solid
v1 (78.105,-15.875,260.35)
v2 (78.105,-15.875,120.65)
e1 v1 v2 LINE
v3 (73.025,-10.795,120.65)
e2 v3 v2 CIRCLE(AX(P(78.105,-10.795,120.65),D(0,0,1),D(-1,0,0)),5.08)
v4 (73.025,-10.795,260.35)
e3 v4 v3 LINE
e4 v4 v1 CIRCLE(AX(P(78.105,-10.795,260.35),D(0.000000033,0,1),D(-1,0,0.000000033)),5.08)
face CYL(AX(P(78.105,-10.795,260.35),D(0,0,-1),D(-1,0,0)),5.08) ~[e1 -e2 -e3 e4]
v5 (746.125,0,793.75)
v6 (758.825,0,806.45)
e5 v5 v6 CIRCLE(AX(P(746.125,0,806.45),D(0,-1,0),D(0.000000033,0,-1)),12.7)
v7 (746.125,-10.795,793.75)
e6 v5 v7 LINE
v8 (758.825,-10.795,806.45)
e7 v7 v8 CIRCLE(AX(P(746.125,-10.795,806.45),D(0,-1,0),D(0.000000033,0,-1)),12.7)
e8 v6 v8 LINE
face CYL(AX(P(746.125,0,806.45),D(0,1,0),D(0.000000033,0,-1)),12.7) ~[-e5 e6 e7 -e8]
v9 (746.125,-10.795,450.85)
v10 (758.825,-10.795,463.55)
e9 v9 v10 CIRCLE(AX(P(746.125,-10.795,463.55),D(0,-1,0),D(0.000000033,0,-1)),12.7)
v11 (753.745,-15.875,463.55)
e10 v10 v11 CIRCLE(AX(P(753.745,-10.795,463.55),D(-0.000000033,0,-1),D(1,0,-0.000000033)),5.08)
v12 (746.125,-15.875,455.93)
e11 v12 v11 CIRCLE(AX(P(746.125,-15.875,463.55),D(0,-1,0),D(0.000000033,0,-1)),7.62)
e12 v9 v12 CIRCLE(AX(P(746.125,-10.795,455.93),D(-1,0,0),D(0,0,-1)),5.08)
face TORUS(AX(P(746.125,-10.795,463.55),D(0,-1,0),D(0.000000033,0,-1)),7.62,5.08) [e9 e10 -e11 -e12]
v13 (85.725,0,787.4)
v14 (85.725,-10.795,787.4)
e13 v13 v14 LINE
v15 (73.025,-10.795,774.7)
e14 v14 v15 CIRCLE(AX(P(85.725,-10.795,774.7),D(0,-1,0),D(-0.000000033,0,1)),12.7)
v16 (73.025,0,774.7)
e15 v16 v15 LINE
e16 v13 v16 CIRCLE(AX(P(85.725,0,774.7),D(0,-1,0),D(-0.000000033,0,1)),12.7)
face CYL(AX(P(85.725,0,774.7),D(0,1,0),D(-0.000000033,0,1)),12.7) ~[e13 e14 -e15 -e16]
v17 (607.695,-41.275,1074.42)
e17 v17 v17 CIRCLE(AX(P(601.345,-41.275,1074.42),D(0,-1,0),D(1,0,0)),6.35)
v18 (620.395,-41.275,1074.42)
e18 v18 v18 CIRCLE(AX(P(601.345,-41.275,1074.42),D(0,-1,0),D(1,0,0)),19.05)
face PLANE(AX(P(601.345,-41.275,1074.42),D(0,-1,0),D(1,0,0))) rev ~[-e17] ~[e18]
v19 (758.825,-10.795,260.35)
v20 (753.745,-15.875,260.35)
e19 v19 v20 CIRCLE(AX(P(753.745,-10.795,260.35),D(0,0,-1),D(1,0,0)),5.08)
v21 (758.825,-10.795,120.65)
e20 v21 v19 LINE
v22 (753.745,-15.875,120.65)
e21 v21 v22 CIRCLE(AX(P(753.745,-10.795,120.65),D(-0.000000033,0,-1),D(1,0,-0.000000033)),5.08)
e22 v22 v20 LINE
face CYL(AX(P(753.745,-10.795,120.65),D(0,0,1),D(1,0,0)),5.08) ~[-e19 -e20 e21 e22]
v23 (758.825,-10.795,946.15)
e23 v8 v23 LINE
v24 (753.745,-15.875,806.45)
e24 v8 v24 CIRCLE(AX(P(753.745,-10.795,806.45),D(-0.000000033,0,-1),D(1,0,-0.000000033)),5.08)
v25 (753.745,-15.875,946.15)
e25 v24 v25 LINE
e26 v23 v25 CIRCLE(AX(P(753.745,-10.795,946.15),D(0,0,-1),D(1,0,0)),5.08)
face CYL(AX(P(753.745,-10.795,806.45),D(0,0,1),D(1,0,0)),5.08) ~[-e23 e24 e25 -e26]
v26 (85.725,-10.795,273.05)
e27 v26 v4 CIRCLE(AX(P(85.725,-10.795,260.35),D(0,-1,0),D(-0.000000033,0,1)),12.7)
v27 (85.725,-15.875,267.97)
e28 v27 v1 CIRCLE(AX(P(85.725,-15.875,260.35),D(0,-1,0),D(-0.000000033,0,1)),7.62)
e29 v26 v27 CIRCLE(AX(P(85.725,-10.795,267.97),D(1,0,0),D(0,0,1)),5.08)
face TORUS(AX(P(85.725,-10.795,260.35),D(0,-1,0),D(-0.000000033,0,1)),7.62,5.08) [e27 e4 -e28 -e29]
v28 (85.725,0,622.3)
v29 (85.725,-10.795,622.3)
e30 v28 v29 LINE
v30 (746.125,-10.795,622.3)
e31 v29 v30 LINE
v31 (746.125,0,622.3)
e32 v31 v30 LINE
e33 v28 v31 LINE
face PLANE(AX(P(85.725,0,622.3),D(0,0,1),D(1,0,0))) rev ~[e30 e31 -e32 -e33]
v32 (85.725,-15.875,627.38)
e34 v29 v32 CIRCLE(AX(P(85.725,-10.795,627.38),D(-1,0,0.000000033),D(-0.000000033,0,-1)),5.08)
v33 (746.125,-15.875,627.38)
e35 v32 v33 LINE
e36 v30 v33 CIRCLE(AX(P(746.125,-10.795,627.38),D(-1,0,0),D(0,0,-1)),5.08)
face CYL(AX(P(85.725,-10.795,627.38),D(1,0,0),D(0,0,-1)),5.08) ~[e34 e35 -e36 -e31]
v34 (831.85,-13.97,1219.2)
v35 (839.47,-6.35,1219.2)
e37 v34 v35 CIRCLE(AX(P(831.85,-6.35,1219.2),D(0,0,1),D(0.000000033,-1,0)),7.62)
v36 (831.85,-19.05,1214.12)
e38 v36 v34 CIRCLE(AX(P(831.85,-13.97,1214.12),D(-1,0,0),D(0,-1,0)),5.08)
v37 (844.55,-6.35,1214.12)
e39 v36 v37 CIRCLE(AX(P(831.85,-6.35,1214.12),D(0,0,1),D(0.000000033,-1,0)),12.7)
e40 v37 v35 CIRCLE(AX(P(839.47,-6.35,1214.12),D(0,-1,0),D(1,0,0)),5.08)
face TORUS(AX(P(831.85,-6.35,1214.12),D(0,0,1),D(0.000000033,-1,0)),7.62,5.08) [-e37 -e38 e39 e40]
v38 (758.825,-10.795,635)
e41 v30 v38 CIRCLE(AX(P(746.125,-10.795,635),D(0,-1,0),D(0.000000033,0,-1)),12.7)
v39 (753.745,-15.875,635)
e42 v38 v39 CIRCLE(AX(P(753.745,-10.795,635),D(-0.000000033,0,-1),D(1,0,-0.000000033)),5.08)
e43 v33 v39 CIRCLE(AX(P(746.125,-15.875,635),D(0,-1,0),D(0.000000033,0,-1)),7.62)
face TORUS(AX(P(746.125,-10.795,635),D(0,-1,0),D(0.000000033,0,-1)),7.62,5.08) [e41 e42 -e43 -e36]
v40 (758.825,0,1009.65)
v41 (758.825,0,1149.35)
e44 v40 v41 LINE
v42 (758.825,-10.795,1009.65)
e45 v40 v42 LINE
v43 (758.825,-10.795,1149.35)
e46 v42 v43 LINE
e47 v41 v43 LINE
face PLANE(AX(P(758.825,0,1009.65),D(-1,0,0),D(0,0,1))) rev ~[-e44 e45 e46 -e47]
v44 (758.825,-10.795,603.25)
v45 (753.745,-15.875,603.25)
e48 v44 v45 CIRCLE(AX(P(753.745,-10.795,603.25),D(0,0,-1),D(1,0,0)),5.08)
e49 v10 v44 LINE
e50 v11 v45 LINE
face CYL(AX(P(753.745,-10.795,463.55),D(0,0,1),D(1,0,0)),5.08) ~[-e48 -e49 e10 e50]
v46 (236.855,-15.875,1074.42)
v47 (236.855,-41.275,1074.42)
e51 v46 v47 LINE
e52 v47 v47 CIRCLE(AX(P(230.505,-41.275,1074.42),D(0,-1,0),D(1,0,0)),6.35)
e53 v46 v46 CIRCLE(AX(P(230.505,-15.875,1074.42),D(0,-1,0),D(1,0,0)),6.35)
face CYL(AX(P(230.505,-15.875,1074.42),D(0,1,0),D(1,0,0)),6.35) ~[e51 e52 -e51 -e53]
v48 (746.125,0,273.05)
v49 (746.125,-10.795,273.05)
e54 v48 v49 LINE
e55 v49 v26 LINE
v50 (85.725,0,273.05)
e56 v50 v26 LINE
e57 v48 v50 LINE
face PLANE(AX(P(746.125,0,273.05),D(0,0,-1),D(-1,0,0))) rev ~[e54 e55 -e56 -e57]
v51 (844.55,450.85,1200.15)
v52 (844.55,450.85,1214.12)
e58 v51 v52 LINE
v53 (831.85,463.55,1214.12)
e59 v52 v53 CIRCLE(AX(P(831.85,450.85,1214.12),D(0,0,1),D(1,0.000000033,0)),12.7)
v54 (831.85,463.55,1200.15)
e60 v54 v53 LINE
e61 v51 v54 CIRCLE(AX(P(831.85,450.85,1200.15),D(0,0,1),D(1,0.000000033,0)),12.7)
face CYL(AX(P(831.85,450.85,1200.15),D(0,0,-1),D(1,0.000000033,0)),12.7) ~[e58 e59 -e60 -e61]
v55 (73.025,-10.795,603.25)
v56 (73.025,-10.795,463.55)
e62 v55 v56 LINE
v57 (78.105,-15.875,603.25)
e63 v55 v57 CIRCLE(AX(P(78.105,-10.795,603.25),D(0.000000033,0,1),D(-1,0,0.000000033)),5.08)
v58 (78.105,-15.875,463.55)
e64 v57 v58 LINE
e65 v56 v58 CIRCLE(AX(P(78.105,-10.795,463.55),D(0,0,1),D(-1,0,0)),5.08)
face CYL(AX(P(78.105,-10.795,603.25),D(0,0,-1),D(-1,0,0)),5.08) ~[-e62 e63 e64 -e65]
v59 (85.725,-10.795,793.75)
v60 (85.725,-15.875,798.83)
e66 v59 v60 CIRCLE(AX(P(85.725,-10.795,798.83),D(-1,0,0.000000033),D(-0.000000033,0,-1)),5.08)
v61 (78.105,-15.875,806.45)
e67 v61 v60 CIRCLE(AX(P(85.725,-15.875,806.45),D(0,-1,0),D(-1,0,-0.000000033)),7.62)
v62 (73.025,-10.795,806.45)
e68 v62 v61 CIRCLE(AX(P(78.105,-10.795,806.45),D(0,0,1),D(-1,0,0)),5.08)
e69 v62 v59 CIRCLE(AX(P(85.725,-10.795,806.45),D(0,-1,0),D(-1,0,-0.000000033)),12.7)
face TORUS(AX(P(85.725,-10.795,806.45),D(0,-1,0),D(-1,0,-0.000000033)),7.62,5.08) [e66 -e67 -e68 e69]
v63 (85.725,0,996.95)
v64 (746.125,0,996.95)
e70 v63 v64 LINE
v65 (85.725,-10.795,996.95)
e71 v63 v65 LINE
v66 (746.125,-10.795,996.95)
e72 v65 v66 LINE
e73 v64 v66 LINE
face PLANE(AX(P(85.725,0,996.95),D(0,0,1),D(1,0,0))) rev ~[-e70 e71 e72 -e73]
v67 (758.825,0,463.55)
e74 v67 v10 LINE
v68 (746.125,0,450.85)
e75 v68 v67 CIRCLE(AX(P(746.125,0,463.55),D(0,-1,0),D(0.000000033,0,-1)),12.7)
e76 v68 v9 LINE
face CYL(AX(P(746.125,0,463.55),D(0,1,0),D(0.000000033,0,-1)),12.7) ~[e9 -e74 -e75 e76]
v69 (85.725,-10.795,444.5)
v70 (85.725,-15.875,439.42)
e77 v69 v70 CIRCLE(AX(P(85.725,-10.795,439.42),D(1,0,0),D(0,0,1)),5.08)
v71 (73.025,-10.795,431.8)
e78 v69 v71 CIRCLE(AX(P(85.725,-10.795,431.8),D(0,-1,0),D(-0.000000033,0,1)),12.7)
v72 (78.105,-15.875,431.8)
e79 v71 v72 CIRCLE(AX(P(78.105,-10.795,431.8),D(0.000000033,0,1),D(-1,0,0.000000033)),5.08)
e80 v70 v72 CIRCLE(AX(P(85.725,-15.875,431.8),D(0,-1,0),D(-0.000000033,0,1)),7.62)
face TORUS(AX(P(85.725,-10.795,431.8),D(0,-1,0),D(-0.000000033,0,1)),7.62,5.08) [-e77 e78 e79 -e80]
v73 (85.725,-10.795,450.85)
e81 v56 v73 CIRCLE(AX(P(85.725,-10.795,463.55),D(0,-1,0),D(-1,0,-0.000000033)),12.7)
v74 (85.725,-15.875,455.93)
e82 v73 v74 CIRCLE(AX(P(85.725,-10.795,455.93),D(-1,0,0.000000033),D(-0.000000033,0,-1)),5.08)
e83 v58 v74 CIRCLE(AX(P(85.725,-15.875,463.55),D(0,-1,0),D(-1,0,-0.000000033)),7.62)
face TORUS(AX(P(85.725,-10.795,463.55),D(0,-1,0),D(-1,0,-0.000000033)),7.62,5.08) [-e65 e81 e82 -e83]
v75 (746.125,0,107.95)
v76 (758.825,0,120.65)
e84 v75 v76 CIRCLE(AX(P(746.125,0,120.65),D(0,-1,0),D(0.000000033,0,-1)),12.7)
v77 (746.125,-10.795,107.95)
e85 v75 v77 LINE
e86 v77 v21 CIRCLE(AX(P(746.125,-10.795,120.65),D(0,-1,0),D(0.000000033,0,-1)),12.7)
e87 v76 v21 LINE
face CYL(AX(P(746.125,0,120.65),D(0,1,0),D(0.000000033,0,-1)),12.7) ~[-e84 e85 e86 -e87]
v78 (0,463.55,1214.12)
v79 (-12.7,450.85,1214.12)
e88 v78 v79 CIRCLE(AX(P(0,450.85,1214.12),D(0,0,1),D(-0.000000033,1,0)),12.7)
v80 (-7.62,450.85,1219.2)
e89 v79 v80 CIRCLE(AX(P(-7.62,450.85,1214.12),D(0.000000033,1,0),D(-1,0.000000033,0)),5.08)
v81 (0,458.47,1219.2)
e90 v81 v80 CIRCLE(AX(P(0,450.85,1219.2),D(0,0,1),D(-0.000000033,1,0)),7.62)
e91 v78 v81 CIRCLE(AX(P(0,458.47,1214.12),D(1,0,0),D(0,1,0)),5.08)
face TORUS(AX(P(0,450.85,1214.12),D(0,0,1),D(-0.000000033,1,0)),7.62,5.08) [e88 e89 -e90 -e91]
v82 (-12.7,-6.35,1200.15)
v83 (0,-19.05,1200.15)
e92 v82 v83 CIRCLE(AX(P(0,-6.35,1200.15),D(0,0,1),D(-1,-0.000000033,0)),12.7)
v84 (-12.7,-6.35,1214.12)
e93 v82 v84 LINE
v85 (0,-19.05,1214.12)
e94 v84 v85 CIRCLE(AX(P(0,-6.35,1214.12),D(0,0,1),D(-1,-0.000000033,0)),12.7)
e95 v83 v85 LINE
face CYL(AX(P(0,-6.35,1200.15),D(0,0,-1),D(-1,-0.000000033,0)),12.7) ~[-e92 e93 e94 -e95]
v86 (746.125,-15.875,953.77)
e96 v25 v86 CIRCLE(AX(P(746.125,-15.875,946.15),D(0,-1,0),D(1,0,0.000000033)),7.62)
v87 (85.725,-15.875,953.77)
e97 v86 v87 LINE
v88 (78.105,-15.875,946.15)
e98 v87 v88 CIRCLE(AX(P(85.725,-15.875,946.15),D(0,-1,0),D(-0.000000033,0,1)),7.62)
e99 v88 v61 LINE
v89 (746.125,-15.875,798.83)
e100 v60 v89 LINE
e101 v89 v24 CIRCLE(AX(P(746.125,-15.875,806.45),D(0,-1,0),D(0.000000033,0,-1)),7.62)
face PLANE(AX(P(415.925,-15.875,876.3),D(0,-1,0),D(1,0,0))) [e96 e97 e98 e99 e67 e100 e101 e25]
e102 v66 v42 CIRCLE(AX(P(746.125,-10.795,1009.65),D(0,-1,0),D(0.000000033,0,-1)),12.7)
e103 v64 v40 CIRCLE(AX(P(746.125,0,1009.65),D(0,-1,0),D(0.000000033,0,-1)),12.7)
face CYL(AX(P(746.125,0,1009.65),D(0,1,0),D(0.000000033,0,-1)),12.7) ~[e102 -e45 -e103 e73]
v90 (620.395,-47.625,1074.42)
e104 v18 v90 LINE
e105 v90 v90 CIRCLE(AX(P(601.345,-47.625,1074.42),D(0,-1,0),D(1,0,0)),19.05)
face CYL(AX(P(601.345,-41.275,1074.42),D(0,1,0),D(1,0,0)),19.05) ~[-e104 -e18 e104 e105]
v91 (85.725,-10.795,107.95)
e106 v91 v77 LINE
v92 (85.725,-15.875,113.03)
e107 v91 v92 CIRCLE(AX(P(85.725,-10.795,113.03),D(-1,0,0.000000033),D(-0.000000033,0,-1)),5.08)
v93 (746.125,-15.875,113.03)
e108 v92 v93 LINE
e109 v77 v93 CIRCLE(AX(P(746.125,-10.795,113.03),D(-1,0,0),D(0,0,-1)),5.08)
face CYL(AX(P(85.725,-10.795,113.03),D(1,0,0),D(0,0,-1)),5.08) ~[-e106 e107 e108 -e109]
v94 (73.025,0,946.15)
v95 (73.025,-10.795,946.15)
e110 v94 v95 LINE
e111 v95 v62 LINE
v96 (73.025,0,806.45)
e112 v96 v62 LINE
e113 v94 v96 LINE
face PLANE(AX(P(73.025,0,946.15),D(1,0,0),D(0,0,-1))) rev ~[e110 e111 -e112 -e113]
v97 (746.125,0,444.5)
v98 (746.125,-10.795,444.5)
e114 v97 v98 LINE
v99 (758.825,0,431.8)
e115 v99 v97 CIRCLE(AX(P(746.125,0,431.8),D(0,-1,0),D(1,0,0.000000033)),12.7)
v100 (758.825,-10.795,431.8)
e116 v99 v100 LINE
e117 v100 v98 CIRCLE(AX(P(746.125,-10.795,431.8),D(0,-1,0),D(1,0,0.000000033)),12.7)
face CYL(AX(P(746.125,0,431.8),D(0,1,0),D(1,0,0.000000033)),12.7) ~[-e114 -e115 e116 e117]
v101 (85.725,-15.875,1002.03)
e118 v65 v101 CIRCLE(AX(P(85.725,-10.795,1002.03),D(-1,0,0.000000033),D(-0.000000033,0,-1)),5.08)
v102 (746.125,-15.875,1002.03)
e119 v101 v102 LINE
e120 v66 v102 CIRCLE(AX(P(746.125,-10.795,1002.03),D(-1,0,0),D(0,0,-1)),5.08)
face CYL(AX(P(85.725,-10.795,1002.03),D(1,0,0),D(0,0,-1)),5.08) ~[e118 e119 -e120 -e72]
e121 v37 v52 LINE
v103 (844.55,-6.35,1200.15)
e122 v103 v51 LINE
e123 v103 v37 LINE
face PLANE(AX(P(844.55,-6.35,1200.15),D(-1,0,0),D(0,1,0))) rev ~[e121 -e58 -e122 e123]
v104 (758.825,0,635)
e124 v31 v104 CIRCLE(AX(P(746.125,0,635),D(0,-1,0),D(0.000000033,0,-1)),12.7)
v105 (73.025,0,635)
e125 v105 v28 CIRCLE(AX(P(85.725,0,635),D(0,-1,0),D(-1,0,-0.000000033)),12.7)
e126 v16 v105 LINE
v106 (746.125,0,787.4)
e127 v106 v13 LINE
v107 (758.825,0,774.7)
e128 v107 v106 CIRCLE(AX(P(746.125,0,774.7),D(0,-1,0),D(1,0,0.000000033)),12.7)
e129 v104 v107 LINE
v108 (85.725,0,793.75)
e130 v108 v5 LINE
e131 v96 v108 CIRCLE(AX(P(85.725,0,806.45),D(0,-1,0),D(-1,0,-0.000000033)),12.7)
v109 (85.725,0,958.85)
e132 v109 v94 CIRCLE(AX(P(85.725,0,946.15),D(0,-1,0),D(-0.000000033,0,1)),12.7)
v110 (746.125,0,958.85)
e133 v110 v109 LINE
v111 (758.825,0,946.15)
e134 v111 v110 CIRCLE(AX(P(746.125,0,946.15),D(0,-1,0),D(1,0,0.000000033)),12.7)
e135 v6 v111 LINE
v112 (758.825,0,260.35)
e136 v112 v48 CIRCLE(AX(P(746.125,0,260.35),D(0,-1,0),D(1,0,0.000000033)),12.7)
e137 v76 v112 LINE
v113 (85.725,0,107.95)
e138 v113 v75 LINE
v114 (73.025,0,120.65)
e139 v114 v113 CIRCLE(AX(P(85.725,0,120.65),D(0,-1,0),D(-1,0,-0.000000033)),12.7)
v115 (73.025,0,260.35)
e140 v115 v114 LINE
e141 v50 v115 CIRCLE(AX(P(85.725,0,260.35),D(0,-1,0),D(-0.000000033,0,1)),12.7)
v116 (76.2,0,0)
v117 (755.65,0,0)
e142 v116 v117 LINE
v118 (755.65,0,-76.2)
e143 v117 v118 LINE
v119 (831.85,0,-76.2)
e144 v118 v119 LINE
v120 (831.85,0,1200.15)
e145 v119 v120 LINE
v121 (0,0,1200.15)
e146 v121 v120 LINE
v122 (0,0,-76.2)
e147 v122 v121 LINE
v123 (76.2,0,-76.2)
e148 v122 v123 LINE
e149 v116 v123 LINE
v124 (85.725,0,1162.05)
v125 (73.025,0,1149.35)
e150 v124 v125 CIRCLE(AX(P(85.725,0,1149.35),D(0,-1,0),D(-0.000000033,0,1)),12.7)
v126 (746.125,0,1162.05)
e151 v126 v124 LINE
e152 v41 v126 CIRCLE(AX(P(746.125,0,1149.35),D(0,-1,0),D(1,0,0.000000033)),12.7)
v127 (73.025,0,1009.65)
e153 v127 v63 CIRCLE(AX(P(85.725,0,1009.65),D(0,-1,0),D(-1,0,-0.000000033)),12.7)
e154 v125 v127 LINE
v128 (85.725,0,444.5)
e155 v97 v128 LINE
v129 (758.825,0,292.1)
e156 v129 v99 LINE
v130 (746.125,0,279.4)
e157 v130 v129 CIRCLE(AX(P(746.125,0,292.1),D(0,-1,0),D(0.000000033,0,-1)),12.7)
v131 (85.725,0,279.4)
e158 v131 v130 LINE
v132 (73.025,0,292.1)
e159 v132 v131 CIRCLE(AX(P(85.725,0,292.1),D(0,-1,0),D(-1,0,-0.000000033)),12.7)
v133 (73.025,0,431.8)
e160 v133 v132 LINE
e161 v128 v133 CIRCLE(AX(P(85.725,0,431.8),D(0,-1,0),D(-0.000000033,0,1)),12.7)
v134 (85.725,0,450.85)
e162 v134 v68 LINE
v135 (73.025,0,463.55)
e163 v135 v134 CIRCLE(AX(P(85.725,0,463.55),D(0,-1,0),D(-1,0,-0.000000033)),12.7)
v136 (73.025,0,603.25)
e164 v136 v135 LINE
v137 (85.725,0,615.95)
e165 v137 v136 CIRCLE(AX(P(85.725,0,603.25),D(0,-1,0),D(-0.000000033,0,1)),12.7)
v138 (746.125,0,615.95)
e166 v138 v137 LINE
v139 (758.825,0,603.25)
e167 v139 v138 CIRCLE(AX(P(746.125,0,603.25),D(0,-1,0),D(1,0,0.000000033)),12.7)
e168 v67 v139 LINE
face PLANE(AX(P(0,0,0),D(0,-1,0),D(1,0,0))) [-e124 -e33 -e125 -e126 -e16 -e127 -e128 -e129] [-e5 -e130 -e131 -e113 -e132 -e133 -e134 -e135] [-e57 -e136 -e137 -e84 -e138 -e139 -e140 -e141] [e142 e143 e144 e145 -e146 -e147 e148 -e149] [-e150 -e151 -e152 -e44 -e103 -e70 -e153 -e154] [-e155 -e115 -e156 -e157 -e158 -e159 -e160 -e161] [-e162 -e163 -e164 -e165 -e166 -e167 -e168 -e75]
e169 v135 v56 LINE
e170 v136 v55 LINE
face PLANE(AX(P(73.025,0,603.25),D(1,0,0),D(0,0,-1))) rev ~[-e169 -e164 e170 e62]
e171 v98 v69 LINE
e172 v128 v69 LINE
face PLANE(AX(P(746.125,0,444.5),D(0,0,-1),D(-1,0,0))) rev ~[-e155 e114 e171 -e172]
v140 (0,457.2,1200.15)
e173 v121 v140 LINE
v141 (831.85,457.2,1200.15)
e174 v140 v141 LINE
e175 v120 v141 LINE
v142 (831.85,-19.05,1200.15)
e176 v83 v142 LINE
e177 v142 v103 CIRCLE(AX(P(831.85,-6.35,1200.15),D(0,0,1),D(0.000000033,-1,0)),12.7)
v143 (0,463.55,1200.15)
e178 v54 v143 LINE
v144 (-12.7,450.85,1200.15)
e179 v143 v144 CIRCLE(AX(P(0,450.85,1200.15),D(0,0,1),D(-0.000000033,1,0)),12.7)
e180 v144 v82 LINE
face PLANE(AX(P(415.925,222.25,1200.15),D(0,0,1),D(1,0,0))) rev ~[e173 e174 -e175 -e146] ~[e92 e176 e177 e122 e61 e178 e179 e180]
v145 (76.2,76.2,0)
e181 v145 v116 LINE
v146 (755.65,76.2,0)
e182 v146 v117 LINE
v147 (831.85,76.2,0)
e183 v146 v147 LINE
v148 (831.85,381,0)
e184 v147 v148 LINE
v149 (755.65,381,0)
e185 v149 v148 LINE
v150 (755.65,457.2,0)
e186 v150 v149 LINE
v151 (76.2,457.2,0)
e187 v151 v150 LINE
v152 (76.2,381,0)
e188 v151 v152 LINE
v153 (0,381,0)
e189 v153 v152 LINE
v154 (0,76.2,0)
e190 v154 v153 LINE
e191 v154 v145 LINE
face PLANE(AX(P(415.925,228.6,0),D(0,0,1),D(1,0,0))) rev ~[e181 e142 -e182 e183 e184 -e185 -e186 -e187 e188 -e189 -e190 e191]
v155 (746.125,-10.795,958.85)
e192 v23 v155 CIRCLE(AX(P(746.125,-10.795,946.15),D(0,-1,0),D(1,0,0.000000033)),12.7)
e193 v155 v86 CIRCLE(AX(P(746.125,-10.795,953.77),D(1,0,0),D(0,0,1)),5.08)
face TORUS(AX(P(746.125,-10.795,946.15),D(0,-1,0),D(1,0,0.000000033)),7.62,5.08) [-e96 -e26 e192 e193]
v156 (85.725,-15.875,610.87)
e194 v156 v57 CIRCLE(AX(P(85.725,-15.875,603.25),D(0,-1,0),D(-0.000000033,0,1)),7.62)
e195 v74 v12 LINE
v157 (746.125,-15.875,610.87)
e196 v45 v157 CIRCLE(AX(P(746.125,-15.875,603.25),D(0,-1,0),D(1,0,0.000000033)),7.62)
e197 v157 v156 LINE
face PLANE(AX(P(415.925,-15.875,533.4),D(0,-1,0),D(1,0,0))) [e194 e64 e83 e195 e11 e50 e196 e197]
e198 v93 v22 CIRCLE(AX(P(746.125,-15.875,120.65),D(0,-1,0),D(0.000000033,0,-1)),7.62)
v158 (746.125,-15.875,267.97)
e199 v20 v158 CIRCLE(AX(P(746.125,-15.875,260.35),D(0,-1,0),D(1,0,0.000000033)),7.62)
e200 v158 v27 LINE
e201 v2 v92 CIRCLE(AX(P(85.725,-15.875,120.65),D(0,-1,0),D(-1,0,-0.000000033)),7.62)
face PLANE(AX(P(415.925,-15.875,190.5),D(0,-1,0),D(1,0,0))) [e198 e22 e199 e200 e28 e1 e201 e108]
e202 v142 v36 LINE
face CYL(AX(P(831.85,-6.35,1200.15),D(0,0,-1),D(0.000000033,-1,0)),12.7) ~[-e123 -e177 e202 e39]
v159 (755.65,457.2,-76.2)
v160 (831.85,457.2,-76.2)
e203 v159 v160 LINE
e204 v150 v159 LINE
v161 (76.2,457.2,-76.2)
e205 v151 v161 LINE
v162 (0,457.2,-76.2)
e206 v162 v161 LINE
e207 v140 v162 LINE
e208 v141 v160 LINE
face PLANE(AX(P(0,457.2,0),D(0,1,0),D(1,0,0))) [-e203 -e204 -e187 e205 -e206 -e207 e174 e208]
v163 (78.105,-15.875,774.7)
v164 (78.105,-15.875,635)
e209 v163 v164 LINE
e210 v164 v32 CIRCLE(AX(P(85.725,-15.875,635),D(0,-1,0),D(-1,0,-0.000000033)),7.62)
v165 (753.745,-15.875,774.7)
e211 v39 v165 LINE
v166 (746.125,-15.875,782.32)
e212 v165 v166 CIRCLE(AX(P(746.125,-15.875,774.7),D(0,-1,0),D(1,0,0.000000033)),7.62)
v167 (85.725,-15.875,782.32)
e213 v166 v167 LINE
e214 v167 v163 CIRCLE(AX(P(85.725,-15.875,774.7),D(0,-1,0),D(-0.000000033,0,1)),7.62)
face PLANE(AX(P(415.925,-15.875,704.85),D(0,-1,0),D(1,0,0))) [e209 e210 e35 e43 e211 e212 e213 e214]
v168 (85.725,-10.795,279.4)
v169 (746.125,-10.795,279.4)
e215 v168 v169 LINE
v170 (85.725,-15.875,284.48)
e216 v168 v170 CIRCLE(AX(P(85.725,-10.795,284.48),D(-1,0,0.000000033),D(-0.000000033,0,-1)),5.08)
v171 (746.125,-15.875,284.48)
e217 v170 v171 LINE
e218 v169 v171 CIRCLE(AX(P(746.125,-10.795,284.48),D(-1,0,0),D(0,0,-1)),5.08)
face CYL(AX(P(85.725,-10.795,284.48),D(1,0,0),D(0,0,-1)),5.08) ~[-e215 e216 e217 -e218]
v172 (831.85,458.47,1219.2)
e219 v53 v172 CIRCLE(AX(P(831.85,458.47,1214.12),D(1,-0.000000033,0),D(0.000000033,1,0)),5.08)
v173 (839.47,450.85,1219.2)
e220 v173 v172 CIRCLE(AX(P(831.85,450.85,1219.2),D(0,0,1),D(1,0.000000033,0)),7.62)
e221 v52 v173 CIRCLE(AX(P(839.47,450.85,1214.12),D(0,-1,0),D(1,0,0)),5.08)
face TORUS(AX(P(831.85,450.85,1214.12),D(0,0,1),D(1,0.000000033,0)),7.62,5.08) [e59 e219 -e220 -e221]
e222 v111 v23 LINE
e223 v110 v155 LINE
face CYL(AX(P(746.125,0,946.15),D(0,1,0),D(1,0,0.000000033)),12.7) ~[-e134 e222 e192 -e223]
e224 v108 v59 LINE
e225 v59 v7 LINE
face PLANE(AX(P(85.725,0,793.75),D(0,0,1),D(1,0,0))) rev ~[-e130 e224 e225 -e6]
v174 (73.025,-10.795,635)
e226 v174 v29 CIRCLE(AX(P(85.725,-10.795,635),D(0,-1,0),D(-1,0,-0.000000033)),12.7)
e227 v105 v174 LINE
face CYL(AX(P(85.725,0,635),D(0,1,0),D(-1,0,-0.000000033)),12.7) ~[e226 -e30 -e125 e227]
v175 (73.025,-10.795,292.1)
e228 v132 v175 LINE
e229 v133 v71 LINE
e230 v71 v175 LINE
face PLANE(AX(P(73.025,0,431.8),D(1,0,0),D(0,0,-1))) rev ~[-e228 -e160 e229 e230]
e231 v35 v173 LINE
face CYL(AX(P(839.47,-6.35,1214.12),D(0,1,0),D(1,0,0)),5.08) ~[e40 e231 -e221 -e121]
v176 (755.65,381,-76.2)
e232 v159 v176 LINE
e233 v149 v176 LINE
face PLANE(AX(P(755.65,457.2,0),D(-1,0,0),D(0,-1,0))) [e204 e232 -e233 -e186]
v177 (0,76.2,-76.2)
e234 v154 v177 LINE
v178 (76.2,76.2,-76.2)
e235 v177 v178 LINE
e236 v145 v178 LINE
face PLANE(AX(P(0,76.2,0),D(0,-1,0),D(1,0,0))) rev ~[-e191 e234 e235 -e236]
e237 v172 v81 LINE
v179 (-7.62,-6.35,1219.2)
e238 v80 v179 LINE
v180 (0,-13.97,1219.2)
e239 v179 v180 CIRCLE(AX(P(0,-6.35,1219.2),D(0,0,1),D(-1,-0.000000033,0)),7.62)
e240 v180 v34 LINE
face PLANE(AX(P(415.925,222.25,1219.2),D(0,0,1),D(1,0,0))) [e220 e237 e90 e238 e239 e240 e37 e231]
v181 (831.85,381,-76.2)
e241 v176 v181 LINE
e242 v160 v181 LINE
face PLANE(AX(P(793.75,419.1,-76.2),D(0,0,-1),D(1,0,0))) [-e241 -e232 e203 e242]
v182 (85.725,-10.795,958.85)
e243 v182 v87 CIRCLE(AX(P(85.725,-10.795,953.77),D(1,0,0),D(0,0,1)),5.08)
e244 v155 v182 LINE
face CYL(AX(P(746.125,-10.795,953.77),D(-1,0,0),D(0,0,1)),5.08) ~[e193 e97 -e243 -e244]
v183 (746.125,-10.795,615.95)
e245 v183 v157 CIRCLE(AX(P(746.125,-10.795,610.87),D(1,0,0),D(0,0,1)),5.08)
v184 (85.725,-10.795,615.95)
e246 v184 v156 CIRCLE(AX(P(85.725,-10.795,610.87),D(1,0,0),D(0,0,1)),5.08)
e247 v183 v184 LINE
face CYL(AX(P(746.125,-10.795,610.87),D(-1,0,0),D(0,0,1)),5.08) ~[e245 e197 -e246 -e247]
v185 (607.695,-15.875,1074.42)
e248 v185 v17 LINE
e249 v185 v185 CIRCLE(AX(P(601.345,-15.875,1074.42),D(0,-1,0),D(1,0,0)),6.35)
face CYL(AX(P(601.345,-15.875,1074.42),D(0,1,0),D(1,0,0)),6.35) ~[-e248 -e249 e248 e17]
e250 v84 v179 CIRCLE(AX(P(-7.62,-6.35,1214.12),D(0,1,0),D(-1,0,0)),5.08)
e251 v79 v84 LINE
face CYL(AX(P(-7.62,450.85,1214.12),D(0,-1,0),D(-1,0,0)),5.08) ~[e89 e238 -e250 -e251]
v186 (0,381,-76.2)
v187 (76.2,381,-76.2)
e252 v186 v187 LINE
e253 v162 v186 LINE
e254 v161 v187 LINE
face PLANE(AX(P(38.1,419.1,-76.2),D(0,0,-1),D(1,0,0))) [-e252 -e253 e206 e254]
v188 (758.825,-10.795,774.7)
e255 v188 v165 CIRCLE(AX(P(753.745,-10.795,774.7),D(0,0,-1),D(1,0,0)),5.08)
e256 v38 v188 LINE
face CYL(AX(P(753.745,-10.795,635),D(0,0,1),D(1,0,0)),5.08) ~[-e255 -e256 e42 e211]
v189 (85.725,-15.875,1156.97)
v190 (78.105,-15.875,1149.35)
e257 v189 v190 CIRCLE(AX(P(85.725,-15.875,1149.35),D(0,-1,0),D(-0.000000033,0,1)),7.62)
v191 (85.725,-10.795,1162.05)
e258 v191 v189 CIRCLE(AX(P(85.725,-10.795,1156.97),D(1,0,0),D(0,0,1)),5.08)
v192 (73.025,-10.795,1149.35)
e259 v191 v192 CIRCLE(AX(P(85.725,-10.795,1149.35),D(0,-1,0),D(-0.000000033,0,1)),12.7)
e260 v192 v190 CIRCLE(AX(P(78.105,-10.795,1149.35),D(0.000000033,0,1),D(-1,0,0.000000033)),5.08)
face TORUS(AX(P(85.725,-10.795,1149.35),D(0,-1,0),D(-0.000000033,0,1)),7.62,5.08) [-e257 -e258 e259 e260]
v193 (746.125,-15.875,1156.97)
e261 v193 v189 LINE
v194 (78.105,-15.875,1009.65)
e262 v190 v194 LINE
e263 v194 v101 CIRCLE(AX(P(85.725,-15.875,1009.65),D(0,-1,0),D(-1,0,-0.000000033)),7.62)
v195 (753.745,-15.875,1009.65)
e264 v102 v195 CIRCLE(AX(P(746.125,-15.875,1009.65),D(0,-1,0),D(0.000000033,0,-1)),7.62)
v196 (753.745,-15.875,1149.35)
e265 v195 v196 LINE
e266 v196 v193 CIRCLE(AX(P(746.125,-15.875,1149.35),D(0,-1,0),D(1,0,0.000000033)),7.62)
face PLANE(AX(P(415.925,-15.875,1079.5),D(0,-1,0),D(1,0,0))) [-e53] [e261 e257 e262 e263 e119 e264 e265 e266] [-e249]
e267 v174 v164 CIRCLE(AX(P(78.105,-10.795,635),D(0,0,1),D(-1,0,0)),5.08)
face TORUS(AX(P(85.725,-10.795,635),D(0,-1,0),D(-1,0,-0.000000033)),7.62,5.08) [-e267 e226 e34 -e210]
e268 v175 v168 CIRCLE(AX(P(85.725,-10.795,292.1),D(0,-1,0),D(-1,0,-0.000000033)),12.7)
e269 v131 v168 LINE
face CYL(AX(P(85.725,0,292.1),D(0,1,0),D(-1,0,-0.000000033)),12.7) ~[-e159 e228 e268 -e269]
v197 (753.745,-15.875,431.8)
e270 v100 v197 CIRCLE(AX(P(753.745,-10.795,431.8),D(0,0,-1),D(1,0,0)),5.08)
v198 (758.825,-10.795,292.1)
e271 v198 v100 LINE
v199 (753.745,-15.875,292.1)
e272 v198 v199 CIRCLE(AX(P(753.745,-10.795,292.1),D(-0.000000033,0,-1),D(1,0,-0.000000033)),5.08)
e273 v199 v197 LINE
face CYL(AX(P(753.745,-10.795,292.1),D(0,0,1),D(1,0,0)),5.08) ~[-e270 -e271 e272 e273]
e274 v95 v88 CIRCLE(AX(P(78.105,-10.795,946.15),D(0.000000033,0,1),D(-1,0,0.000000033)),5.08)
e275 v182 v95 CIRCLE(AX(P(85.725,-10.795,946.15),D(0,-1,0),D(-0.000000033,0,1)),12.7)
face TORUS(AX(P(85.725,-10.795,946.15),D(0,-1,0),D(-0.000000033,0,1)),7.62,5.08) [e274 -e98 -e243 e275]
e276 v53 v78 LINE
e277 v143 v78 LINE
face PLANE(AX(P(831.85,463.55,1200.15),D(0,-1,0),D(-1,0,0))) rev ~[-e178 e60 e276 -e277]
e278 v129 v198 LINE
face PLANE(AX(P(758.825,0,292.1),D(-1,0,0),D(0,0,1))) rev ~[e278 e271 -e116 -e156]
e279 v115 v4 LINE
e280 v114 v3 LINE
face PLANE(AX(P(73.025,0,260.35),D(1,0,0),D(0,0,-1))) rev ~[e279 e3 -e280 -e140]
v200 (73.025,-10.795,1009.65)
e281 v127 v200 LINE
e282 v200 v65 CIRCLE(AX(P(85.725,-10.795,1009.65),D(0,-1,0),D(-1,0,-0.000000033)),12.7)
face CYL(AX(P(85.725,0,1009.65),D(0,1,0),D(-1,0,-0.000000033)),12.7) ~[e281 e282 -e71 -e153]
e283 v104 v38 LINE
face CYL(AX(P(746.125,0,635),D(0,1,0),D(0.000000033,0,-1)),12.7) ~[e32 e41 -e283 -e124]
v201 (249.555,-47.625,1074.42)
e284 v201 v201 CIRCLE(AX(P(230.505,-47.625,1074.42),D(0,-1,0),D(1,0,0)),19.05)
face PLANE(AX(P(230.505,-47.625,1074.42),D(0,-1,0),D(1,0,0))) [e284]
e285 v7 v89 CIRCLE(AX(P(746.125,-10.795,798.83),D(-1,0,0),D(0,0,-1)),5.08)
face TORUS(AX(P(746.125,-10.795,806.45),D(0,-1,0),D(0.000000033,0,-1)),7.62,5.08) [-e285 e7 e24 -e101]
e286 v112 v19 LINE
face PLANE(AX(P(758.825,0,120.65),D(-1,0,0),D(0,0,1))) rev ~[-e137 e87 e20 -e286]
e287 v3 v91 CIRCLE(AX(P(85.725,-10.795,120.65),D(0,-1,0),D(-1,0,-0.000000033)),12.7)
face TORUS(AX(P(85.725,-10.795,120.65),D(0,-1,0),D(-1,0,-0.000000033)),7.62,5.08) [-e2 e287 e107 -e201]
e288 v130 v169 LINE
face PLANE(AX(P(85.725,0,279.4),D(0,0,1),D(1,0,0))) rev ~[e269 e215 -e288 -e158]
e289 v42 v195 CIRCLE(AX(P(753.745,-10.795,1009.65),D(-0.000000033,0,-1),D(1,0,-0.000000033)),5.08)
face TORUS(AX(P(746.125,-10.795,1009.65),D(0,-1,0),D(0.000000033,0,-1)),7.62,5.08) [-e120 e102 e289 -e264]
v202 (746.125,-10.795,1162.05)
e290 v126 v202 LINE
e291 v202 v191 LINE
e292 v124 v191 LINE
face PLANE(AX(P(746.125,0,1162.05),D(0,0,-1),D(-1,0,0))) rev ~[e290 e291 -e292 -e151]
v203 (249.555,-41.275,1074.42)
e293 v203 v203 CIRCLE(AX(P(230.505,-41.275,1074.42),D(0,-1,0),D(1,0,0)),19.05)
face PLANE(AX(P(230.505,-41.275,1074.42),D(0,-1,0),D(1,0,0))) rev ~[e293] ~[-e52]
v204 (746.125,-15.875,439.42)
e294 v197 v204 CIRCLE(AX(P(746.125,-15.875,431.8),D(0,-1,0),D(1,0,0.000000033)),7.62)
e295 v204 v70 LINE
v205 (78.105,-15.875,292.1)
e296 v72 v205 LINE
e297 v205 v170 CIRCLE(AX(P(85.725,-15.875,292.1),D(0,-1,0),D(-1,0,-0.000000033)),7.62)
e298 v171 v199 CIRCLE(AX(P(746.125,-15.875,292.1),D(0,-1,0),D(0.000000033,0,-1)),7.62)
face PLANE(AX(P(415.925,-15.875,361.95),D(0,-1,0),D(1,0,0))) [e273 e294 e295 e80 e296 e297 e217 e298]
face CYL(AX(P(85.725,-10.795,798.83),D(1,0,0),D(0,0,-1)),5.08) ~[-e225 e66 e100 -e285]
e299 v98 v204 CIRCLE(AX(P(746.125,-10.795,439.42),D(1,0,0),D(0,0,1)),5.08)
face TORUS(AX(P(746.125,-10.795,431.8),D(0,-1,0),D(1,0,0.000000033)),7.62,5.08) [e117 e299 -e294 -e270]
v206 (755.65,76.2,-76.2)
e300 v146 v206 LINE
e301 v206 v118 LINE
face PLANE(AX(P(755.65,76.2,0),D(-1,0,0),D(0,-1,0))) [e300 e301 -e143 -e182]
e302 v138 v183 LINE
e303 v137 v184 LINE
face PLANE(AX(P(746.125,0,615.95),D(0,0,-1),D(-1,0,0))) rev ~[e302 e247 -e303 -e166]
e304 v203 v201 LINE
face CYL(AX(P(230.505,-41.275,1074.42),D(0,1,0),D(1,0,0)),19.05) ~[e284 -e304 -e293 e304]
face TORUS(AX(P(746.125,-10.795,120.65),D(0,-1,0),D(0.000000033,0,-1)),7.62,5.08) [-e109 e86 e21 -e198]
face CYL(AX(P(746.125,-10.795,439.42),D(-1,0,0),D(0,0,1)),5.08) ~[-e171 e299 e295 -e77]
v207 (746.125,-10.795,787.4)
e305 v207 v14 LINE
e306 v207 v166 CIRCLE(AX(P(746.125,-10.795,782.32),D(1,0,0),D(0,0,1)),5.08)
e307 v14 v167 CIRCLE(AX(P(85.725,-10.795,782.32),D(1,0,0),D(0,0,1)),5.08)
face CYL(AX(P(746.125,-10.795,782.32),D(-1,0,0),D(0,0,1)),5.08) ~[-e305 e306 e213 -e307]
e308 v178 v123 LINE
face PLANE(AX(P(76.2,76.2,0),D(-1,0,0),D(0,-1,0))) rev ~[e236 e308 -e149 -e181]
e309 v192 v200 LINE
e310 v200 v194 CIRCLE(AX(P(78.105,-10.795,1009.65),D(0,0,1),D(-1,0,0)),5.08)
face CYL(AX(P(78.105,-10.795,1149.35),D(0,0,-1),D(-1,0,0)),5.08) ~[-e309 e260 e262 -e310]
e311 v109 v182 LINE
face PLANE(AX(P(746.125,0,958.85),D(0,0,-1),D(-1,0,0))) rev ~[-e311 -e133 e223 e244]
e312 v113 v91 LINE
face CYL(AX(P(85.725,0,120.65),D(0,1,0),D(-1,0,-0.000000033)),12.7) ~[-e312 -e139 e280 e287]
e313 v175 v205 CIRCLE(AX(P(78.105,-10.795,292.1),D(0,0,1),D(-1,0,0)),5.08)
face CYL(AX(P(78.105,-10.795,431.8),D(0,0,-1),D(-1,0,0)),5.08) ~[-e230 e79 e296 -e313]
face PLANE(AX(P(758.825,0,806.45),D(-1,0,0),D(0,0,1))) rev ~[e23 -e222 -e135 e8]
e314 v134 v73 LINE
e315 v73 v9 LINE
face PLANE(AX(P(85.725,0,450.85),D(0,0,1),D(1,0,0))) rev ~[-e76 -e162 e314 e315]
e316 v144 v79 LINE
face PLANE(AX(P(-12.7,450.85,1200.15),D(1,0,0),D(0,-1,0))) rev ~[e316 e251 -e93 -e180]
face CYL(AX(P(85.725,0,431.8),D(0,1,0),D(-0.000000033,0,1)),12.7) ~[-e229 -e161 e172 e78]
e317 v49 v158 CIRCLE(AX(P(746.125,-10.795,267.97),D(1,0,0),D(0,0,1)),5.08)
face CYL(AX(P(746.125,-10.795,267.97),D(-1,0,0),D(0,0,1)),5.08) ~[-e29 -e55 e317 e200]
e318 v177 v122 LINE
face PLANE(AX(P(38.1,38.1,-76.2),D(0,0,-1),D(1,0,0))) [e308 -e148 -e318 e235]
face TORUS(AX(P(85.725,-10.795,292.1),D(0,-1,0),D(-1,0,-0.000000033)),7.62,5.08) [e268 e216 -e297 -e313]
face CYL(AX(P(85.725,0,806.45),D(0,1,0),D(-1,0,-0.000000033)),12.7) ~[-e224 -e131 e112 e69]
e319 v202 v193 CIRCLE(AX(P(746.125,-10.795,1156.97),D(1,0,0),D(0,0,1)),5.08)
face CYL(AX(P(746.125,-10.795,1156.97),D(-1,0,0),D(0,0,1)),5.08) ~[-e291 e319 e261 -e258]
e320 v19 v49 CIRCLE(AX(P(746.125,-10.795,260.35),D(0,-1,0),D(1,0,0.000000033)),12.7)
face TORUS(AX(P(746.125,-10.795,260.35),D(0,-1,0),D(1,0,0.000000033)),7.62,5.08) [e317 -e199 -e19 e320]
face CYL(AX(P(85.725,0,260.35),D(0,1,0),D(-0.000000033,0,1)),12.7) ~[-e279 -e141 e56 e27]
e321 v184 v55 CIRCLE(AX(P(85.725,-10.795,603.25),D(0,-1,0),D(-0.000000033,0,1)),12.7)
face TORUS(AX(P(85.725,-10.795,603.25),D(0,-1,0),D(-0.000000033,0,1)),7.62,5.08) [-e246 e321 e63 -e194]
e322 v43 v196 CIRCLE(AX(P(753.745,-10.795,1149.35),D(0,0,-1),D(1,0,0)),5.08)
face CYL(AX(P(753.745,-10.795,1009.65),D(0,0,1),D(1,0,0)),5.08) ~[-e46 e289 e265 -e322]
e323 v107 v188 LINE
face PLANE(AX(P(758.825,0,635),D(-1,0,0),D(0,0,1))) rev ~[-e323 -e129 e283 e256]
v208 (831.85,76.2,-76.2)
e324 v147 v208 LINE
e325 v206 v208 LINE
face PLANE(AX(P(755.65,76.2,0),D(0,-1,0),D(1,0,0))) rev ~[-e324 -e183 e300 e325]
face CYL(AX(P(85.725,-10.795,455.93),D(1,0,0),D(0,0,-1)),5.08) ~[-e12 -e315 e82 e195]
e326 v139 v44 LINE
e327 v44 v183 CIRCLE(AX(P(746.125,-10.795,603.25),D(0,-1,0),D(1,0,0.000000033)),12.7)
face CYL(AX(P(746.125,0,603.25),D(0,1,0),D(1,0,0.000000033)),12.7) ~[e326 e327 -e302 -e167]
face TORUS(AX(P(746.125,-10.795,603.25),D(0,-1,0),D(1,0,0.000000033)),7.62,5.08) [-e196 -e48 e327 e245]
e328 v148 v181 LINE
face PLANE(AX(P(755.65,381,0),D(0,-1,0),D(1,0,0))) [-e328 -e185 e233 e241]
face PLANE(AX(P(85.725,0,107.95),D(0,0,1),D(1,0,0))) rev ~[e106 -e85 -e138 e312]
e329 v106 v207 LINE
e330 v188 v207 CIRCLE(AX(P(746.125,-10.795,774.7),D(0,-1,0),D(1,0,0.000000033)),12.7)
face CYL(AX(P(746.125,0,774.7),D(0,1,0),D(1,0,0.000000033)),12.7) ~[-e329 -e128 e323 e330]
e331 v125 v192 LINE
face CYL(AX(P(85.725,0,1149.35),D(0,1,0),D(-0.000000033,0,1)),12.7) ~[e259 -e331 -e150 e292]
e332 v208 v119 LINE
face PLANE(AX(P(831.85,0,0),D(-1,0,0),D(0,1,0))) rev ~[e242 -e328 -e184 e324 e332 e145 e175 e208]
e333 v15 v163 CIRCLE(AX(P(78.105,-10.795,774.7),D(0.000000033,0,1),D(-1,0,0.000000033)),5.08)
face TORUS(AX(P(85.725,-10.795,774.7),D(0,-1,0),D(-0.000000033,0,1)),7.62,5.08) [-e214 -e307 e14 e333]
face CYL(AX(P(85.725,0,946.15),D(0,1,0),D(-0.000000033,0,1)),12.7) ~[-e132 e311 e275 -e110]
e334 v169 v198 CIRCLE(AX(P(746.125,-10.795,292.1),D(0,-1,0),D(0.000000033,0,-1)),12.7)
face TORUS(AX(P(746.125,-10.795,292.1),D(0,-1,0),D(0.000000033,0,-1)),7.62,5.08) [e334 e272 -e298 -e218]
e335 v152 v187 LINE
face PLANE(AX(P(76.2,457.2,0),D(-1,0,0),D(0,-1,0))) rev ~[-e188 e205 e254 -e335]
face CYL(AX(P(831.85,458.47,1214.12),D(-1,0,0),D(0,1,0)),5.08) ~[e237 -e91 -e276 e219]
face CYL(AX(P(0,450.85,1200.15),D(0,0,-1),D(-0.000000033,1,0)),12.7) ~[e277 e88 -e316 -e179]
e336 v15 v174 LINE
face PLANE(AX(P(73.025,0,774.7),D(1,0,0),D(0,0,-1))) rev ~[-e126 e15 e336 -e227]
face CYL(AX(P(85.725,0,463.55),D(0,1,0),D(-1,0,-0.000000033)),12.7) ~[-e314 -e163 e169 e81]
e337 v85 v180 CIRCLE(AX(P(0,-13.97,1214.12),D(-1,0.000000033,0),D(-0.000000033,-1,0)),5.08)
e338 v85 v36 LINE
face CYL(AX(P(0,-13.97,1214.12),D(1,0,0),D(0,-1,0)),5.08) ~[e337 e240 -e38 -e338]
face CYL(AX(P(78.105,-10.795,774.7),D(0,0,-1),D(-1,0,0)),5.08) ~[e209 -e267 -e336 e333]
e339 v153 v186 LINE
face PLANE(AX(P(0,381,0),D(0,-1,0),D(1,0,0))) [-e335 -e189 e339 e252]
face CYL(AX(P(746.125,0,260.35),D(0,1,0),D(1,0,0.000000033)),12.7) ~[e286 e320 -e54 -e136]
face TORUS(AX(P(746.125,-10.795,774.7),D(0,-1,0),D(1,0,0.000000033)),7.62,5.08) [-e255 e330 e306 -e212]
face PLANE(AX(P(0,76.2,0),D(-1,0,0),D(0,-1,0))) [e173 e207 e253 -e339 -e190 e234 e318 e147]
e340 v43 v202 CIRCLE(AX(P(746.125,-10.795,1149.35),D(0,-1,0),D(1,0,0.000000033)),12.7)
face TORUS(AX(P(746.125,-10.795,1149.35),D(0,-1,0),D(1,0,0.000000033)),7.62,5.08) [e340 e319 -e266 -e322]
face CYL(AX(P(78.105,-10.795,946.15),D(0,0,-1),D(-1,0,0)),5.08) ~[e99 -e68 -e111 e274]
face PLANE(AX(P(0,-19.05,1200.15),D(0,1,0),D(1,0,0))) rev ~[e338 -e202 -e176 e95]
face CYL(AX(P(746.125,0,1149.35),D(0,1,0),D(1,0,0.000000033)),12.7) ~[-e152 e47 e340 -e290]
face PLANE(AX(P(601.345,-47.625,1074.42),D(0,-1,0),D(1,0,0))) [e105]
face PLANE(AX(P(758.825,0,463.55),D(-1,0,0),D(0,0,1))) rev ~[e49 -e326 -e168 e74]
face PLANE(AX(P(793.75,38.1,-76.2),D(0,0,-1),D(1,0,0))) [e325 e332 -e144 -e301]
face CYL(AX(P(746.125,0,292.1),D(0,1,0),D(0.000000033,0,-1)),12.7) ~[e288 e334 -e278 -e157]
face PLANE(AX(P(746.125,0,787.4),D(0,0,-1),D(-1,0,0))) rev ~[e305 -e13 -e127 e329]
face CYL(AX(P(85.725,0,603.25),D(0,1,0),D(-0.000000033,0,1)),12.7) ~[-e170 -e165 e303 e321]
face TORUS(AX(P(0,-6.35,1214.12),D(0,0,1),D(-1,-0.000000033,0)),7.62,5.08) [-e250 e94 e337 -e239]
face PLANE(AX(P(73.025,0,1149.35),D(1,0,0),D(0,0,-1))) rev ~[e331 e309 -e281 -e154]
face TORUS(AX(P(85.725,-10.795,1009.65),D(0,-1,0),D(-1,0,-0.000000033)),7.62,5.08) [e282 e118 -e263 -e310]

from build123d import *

# Parameters (mm, degrees)
F0_W      = 831.85
F0_H      = 457.2
F1_DEPTH  = 1200.15
F2_W      = 76.2
F2_H      = 76.2
F3_DEPTH  = 76.2
F5_DEPTH  = 19.05
F7_DEPTH  = 15.875
F8_R      = 5.08
F9_R      = 6.35
F10_DEPTH = 25.4
F11_R     = 19.05
F12_DEPTH = 6.35
F13_R     = 19.05
F14_DEPTH = 6.35
F15_R     = 5.08


with BuildPart() as f1:
    # F0 (on Top) → F1 (new body)
    with BuildSketch(Plane.XY):
        with Locations((415.925, 228.6)):
            Rectangle(F0_W, F0_H)
    extrude(amount=F1_DEPTH)

    # F2 (on face) → F3 (join)
    with BuildSketch(Plane(origin=(0, 0, 0), x_dir=(1, 0, 0), z_dir=(0, 0, -1))):
        with Locations((38.1, -38.1)):
            Rectangle(F2_W, F2_H)
        with Locations((38.1, -419.1)):
            Rectangle(F2_W, F2_H)
        with Locations((793.75, -38.1)):
            Rectangle(F2_W, F2_H)
        with Locations((793.75, -419.1)):
            Rectangle(F2_W, F2_H)
    extrude(amount=F3_DEPTH)

    # F4 (on face) → F5 (join)
    with BuildSketch(Plane.XY.offset(1200.15)):
        with BuildLine():
            Line((831.85, 463.55), (0, 463.55))
            ThreePointArc((0, 463.55), (-8.980256, 459.830256), (-12.7, 450.85))
            Line((-12.7, 450.85), (-12.7, -6.35))
            ThreePointArc((-12.7, -6.35), (-8.980256, -15.330256), (0, -19.05))
            Line((0, -19.05), (831.85, -19.05))
            ThreePointArc((831.85, -19.05), (840.830256, -15.330256), (844.55, -6.35))
            Line((844.55, -6.35), (844.55, 450.85))
            ThreePointArc((844.55, 450.85), (840.830256, 459.830256), (831.85, 463.55))
        make_face()
    extrude(amount=F5_DEPTH)

    # F6 (on face) → F7 (join)
    with BuildSketch(Plane.XZ):
        with BuildLine():
            Line((746.125, 1162.05), (85.725, 1162.05))
            ThreePointArc((85.725, 1162.05), (76.744744, 1158.330256), (73.025, 1149.35))
            Line((73.025, 1149.35), (73.025, 1009.65))
            ThreePointArc((73.025, 1009.65), (76.744744, 1000.669744), (85.725, 996.95))
            Line((85.725, 996.95), (746.125, 996.95))
            ThreePointArc((746.125, 996.95), (755.105256, 1000.669744), (758.825, 1009.65))
            Line((758.825, 1009.65), (758.825, 1149.35))
            ThreePointArc((758.825, 1149.35), (755.105256, 1158.330256), (746.125, 1162.05))
        make_face()
        with BuildLine():
            Line((746.125, 958.85), (85.725, 958.85))
            ThreePointArc((85.725, 958.85), (76.744744, 955.130256), (73.025, 946.15))
            Line((73.025, 946.15), (73.025, 806.45))
            ThreePointArc((73.025, 806.45), (76.744744, 797.469744), (85.725, 793.75))
            Line((85.725, 793.75), (746.125, 793.75))
            ThreePointArc((746.125, 793.75), (755.105256, 797.469744), (758.825, 806.45))
            Line((758.825, 806.45), (758.825, 946.15))
            ThreePointArc((758.825, 946.15), (755.105256, 955.130256), (746.125, 958.85))
        make_face()
        with BuildLine():
            Line((746.125, 787.4), (85.725, 787.4))
            ThreePointArc((85.725, 787.4), (76.744744, 783.680256), (73.025, 774.7))
            Line((73.025, 774.7), (73.025, 635))
            ThreePointArc((73.025, 635), (76.744744, 626.019744), (85.725, 622.3))
            Line((85.725, 622.3), (746.125, 622.3))
            ThreePointArc((746.125, 622.3), (755.105256, 626.019744), (758.825, 635))
            Line((758.825, 635), (758.825, 774.7))
            ThreePointArc((758.825, 774.7), (755.105256, 783.680256), (746.125, 787.4))
        make_face()
        with BuildLine():
            Line((746.125, 615.95), (85.725, 615.95))
            ThreePointArc((85.725, 615.95), (76.744744, 612.230256), (73.025, 603.25))
            Line((73.025, 603.25), (73.025, 463.55))
            ThreePointArc((73.025, 463.55), (76.744744, 454.569744), (85.725, 450.85))
            Line((85.725, 450.85), (746.125, 450.85))
            ThreePointArc((746.125, 450.85), (755.105256, 454.569744), (758.825, 463.55))
            Line((758.825, 463.55), (758.825, 603.25))
            ThreePointArc((758.825, 603.25), (755.105256, 612.230256), (746.125, 615.95))
        make_face()
        with BuildLine():
            Line((746.125, 444.5), (85.725, 444.5))
            ThreePointArc((85.725, 444.5), (76.744744, 440.780256), (73.025, 431.8))
            Line((73.025, 431.8), (73.025, 292.1))
            ThreePointArc((73.025, 292.1), (76.744744, 283.119744), (85.725, 279.4))
            Line((85.725, 279.4), (746.125, 279.4))
            ThreePointArc((746.125, 279.4), (755.105256, 283.119744), (758.825, 292.1))
            Line((758.825, 292.1), (758.825, 431.8))
            ThreePointArc((758.825, 431.8), (755.105256, 440.780256), (746.125, 444.5))
        make_face()
        with BuildLine():
            Line((746.125, 273.05), (85.725, 273.05))
            ThreePointArc((85.725, 273.05), (76.744744, 269.330256), (73.025, 260.35))
            Line((73.025, 260.35), (73.025, 120.65))
            ThreePointArc((73.025, 120.65), (76.744744, 111.669744), (85.725, 107.95))
            Line((85.725, 107.95), (746.125, 107.95))
            ThreePointArc((746.125, 107.95), (755.105256, 111.669744), (758.825, 120.65))
            Line((758.825, 120.65), (758.825, 260.35))
            ThreePointArc((758.825, 260.35), (755.105256, 269.330256), (746.125, 273.05))
        make_face()
    extrude(amount=F7_DEPTH)

    # F8
    f8_edges = [f1.edges().sort_by_distance(p)[0] for p in [
        (415.925, -15.875, 1162.05),
        (76.744744, -15.875, 1158.330256),
        (73.025, -15.875, 1079.5),
        (76.744744, -15.875, 1000.669744),
        (415.925, -15.875, 996.95),
        (755.105256, -15.875, 1000.669744),
        (758.825, -15.875, 1079.5),
        (755.105256, -15.875, 1158.330256),
        (415.925, -15.875, 958.85),
        (76.744744, -15.875, 955.130256),
        (73.025, -15.875, 876.3),
        (76.744744, -15.875, 797.469744),
        (415.925, -15.875, 793.75),
        (755.105256, -15.875, 797.469744),
        (758.825, -15.875, 876.3),
        (755.105256, -15.875, 955.130256),
        (415.925, -15.875, 787.4),
        (76.744744, -15.875, 783.680256),
        (73.025, -15.875, 704.85),
        (76.744744, -15.875, 626.019744),
        (415.925, -15.875, 622.3),
        (755.105256, -15.875, 626.019744),
        (758.825, -15.875, 704.85),
        (755.105256, -15.875, 783.680256),
        (415.925, -15.875, 615.95),
        (76.744744, -15.875, 612.230256),
        (73.025, -15.875, 533.4),
        (76.744744, -15.875, 454.569744),
        (415.925, -15.875, 450.85),
        (755.105256, -15.875, 454.569744),
        (758.825, -15.875, 533.4),
        (755.105256, -15.875, 612.230256),
        (415.925, -15.875, 444.5),
        (76.744744, -15.875, 440.780256),
        (73.025, -15.875, 361.95),
        (76.744744, -15.875, 283.119744),
        (415.925, -15.875, 279.4),
        (755.105256, -15.875, 283.119744),
        (758.825, -15.875, 361.95),
        (755.105256, -15.875, 440.780256),
        (415.925, -15.875, 273.05),
        (76.744744, -15.875, 269.330256),
        (73.025, -15.875, 190.5),
        (76.744744, -15.875, 111.669744),
        (415.925, -15.875, 107.95),
        (755.105256, -15.875, 111.669744),
        (758.825, -15.875, 190.5),
        (755.105256, -15.875, 269.330256),
    ]]
    fillet(f8_edges, radius=F8_R)

    # F9 (on face) → F10 (join)
    with BuildSketch(Plane.XZ.offset(15.875)):
        with Locations((230.505, 1074.42)):
            Circle(F9_R)
        with Locations((601.345, 1074.42)):
            Circle(F9_R)
    extrude(amount=F10_DEPTH)

    # F11 (on face) → F12 (join)
    with BuildSketch(Plane.XZ.offset(41.275)):
        with Locations((230.505, 1074.42)):
            Circle(F11_R)
    extrude(amount=F12_DEPTH)

    # F13 (on face) → F14 (join)
    with BuildSketch(Plane.XZ.offset(41.275)):
        with Locations((601.345, 1074.42)):
            Circle(F13_R)
    extrude(amount=F14_DEPTH)

    # F15
    f15_edges = [f1.edges().sort_by_distance(p)[0] for p in [
        (844.55, 222.25, 1219.2),
        (840.830256, 459.830256, 1219.2),
        (415.925, 463.55, 1219.2),
        (-8.980256, 459.830256, 1219.2),
        (-12.7, 222.25, 1219.2),
        (-8.980256, -15.330256, 1219.2),
        (415.925, -19.05, 1219.2),
        (840.830256, -15.330256, 1219.2),
    ]]
    fillet(f15_edges, radius=F15_R)


solid = f1.part
